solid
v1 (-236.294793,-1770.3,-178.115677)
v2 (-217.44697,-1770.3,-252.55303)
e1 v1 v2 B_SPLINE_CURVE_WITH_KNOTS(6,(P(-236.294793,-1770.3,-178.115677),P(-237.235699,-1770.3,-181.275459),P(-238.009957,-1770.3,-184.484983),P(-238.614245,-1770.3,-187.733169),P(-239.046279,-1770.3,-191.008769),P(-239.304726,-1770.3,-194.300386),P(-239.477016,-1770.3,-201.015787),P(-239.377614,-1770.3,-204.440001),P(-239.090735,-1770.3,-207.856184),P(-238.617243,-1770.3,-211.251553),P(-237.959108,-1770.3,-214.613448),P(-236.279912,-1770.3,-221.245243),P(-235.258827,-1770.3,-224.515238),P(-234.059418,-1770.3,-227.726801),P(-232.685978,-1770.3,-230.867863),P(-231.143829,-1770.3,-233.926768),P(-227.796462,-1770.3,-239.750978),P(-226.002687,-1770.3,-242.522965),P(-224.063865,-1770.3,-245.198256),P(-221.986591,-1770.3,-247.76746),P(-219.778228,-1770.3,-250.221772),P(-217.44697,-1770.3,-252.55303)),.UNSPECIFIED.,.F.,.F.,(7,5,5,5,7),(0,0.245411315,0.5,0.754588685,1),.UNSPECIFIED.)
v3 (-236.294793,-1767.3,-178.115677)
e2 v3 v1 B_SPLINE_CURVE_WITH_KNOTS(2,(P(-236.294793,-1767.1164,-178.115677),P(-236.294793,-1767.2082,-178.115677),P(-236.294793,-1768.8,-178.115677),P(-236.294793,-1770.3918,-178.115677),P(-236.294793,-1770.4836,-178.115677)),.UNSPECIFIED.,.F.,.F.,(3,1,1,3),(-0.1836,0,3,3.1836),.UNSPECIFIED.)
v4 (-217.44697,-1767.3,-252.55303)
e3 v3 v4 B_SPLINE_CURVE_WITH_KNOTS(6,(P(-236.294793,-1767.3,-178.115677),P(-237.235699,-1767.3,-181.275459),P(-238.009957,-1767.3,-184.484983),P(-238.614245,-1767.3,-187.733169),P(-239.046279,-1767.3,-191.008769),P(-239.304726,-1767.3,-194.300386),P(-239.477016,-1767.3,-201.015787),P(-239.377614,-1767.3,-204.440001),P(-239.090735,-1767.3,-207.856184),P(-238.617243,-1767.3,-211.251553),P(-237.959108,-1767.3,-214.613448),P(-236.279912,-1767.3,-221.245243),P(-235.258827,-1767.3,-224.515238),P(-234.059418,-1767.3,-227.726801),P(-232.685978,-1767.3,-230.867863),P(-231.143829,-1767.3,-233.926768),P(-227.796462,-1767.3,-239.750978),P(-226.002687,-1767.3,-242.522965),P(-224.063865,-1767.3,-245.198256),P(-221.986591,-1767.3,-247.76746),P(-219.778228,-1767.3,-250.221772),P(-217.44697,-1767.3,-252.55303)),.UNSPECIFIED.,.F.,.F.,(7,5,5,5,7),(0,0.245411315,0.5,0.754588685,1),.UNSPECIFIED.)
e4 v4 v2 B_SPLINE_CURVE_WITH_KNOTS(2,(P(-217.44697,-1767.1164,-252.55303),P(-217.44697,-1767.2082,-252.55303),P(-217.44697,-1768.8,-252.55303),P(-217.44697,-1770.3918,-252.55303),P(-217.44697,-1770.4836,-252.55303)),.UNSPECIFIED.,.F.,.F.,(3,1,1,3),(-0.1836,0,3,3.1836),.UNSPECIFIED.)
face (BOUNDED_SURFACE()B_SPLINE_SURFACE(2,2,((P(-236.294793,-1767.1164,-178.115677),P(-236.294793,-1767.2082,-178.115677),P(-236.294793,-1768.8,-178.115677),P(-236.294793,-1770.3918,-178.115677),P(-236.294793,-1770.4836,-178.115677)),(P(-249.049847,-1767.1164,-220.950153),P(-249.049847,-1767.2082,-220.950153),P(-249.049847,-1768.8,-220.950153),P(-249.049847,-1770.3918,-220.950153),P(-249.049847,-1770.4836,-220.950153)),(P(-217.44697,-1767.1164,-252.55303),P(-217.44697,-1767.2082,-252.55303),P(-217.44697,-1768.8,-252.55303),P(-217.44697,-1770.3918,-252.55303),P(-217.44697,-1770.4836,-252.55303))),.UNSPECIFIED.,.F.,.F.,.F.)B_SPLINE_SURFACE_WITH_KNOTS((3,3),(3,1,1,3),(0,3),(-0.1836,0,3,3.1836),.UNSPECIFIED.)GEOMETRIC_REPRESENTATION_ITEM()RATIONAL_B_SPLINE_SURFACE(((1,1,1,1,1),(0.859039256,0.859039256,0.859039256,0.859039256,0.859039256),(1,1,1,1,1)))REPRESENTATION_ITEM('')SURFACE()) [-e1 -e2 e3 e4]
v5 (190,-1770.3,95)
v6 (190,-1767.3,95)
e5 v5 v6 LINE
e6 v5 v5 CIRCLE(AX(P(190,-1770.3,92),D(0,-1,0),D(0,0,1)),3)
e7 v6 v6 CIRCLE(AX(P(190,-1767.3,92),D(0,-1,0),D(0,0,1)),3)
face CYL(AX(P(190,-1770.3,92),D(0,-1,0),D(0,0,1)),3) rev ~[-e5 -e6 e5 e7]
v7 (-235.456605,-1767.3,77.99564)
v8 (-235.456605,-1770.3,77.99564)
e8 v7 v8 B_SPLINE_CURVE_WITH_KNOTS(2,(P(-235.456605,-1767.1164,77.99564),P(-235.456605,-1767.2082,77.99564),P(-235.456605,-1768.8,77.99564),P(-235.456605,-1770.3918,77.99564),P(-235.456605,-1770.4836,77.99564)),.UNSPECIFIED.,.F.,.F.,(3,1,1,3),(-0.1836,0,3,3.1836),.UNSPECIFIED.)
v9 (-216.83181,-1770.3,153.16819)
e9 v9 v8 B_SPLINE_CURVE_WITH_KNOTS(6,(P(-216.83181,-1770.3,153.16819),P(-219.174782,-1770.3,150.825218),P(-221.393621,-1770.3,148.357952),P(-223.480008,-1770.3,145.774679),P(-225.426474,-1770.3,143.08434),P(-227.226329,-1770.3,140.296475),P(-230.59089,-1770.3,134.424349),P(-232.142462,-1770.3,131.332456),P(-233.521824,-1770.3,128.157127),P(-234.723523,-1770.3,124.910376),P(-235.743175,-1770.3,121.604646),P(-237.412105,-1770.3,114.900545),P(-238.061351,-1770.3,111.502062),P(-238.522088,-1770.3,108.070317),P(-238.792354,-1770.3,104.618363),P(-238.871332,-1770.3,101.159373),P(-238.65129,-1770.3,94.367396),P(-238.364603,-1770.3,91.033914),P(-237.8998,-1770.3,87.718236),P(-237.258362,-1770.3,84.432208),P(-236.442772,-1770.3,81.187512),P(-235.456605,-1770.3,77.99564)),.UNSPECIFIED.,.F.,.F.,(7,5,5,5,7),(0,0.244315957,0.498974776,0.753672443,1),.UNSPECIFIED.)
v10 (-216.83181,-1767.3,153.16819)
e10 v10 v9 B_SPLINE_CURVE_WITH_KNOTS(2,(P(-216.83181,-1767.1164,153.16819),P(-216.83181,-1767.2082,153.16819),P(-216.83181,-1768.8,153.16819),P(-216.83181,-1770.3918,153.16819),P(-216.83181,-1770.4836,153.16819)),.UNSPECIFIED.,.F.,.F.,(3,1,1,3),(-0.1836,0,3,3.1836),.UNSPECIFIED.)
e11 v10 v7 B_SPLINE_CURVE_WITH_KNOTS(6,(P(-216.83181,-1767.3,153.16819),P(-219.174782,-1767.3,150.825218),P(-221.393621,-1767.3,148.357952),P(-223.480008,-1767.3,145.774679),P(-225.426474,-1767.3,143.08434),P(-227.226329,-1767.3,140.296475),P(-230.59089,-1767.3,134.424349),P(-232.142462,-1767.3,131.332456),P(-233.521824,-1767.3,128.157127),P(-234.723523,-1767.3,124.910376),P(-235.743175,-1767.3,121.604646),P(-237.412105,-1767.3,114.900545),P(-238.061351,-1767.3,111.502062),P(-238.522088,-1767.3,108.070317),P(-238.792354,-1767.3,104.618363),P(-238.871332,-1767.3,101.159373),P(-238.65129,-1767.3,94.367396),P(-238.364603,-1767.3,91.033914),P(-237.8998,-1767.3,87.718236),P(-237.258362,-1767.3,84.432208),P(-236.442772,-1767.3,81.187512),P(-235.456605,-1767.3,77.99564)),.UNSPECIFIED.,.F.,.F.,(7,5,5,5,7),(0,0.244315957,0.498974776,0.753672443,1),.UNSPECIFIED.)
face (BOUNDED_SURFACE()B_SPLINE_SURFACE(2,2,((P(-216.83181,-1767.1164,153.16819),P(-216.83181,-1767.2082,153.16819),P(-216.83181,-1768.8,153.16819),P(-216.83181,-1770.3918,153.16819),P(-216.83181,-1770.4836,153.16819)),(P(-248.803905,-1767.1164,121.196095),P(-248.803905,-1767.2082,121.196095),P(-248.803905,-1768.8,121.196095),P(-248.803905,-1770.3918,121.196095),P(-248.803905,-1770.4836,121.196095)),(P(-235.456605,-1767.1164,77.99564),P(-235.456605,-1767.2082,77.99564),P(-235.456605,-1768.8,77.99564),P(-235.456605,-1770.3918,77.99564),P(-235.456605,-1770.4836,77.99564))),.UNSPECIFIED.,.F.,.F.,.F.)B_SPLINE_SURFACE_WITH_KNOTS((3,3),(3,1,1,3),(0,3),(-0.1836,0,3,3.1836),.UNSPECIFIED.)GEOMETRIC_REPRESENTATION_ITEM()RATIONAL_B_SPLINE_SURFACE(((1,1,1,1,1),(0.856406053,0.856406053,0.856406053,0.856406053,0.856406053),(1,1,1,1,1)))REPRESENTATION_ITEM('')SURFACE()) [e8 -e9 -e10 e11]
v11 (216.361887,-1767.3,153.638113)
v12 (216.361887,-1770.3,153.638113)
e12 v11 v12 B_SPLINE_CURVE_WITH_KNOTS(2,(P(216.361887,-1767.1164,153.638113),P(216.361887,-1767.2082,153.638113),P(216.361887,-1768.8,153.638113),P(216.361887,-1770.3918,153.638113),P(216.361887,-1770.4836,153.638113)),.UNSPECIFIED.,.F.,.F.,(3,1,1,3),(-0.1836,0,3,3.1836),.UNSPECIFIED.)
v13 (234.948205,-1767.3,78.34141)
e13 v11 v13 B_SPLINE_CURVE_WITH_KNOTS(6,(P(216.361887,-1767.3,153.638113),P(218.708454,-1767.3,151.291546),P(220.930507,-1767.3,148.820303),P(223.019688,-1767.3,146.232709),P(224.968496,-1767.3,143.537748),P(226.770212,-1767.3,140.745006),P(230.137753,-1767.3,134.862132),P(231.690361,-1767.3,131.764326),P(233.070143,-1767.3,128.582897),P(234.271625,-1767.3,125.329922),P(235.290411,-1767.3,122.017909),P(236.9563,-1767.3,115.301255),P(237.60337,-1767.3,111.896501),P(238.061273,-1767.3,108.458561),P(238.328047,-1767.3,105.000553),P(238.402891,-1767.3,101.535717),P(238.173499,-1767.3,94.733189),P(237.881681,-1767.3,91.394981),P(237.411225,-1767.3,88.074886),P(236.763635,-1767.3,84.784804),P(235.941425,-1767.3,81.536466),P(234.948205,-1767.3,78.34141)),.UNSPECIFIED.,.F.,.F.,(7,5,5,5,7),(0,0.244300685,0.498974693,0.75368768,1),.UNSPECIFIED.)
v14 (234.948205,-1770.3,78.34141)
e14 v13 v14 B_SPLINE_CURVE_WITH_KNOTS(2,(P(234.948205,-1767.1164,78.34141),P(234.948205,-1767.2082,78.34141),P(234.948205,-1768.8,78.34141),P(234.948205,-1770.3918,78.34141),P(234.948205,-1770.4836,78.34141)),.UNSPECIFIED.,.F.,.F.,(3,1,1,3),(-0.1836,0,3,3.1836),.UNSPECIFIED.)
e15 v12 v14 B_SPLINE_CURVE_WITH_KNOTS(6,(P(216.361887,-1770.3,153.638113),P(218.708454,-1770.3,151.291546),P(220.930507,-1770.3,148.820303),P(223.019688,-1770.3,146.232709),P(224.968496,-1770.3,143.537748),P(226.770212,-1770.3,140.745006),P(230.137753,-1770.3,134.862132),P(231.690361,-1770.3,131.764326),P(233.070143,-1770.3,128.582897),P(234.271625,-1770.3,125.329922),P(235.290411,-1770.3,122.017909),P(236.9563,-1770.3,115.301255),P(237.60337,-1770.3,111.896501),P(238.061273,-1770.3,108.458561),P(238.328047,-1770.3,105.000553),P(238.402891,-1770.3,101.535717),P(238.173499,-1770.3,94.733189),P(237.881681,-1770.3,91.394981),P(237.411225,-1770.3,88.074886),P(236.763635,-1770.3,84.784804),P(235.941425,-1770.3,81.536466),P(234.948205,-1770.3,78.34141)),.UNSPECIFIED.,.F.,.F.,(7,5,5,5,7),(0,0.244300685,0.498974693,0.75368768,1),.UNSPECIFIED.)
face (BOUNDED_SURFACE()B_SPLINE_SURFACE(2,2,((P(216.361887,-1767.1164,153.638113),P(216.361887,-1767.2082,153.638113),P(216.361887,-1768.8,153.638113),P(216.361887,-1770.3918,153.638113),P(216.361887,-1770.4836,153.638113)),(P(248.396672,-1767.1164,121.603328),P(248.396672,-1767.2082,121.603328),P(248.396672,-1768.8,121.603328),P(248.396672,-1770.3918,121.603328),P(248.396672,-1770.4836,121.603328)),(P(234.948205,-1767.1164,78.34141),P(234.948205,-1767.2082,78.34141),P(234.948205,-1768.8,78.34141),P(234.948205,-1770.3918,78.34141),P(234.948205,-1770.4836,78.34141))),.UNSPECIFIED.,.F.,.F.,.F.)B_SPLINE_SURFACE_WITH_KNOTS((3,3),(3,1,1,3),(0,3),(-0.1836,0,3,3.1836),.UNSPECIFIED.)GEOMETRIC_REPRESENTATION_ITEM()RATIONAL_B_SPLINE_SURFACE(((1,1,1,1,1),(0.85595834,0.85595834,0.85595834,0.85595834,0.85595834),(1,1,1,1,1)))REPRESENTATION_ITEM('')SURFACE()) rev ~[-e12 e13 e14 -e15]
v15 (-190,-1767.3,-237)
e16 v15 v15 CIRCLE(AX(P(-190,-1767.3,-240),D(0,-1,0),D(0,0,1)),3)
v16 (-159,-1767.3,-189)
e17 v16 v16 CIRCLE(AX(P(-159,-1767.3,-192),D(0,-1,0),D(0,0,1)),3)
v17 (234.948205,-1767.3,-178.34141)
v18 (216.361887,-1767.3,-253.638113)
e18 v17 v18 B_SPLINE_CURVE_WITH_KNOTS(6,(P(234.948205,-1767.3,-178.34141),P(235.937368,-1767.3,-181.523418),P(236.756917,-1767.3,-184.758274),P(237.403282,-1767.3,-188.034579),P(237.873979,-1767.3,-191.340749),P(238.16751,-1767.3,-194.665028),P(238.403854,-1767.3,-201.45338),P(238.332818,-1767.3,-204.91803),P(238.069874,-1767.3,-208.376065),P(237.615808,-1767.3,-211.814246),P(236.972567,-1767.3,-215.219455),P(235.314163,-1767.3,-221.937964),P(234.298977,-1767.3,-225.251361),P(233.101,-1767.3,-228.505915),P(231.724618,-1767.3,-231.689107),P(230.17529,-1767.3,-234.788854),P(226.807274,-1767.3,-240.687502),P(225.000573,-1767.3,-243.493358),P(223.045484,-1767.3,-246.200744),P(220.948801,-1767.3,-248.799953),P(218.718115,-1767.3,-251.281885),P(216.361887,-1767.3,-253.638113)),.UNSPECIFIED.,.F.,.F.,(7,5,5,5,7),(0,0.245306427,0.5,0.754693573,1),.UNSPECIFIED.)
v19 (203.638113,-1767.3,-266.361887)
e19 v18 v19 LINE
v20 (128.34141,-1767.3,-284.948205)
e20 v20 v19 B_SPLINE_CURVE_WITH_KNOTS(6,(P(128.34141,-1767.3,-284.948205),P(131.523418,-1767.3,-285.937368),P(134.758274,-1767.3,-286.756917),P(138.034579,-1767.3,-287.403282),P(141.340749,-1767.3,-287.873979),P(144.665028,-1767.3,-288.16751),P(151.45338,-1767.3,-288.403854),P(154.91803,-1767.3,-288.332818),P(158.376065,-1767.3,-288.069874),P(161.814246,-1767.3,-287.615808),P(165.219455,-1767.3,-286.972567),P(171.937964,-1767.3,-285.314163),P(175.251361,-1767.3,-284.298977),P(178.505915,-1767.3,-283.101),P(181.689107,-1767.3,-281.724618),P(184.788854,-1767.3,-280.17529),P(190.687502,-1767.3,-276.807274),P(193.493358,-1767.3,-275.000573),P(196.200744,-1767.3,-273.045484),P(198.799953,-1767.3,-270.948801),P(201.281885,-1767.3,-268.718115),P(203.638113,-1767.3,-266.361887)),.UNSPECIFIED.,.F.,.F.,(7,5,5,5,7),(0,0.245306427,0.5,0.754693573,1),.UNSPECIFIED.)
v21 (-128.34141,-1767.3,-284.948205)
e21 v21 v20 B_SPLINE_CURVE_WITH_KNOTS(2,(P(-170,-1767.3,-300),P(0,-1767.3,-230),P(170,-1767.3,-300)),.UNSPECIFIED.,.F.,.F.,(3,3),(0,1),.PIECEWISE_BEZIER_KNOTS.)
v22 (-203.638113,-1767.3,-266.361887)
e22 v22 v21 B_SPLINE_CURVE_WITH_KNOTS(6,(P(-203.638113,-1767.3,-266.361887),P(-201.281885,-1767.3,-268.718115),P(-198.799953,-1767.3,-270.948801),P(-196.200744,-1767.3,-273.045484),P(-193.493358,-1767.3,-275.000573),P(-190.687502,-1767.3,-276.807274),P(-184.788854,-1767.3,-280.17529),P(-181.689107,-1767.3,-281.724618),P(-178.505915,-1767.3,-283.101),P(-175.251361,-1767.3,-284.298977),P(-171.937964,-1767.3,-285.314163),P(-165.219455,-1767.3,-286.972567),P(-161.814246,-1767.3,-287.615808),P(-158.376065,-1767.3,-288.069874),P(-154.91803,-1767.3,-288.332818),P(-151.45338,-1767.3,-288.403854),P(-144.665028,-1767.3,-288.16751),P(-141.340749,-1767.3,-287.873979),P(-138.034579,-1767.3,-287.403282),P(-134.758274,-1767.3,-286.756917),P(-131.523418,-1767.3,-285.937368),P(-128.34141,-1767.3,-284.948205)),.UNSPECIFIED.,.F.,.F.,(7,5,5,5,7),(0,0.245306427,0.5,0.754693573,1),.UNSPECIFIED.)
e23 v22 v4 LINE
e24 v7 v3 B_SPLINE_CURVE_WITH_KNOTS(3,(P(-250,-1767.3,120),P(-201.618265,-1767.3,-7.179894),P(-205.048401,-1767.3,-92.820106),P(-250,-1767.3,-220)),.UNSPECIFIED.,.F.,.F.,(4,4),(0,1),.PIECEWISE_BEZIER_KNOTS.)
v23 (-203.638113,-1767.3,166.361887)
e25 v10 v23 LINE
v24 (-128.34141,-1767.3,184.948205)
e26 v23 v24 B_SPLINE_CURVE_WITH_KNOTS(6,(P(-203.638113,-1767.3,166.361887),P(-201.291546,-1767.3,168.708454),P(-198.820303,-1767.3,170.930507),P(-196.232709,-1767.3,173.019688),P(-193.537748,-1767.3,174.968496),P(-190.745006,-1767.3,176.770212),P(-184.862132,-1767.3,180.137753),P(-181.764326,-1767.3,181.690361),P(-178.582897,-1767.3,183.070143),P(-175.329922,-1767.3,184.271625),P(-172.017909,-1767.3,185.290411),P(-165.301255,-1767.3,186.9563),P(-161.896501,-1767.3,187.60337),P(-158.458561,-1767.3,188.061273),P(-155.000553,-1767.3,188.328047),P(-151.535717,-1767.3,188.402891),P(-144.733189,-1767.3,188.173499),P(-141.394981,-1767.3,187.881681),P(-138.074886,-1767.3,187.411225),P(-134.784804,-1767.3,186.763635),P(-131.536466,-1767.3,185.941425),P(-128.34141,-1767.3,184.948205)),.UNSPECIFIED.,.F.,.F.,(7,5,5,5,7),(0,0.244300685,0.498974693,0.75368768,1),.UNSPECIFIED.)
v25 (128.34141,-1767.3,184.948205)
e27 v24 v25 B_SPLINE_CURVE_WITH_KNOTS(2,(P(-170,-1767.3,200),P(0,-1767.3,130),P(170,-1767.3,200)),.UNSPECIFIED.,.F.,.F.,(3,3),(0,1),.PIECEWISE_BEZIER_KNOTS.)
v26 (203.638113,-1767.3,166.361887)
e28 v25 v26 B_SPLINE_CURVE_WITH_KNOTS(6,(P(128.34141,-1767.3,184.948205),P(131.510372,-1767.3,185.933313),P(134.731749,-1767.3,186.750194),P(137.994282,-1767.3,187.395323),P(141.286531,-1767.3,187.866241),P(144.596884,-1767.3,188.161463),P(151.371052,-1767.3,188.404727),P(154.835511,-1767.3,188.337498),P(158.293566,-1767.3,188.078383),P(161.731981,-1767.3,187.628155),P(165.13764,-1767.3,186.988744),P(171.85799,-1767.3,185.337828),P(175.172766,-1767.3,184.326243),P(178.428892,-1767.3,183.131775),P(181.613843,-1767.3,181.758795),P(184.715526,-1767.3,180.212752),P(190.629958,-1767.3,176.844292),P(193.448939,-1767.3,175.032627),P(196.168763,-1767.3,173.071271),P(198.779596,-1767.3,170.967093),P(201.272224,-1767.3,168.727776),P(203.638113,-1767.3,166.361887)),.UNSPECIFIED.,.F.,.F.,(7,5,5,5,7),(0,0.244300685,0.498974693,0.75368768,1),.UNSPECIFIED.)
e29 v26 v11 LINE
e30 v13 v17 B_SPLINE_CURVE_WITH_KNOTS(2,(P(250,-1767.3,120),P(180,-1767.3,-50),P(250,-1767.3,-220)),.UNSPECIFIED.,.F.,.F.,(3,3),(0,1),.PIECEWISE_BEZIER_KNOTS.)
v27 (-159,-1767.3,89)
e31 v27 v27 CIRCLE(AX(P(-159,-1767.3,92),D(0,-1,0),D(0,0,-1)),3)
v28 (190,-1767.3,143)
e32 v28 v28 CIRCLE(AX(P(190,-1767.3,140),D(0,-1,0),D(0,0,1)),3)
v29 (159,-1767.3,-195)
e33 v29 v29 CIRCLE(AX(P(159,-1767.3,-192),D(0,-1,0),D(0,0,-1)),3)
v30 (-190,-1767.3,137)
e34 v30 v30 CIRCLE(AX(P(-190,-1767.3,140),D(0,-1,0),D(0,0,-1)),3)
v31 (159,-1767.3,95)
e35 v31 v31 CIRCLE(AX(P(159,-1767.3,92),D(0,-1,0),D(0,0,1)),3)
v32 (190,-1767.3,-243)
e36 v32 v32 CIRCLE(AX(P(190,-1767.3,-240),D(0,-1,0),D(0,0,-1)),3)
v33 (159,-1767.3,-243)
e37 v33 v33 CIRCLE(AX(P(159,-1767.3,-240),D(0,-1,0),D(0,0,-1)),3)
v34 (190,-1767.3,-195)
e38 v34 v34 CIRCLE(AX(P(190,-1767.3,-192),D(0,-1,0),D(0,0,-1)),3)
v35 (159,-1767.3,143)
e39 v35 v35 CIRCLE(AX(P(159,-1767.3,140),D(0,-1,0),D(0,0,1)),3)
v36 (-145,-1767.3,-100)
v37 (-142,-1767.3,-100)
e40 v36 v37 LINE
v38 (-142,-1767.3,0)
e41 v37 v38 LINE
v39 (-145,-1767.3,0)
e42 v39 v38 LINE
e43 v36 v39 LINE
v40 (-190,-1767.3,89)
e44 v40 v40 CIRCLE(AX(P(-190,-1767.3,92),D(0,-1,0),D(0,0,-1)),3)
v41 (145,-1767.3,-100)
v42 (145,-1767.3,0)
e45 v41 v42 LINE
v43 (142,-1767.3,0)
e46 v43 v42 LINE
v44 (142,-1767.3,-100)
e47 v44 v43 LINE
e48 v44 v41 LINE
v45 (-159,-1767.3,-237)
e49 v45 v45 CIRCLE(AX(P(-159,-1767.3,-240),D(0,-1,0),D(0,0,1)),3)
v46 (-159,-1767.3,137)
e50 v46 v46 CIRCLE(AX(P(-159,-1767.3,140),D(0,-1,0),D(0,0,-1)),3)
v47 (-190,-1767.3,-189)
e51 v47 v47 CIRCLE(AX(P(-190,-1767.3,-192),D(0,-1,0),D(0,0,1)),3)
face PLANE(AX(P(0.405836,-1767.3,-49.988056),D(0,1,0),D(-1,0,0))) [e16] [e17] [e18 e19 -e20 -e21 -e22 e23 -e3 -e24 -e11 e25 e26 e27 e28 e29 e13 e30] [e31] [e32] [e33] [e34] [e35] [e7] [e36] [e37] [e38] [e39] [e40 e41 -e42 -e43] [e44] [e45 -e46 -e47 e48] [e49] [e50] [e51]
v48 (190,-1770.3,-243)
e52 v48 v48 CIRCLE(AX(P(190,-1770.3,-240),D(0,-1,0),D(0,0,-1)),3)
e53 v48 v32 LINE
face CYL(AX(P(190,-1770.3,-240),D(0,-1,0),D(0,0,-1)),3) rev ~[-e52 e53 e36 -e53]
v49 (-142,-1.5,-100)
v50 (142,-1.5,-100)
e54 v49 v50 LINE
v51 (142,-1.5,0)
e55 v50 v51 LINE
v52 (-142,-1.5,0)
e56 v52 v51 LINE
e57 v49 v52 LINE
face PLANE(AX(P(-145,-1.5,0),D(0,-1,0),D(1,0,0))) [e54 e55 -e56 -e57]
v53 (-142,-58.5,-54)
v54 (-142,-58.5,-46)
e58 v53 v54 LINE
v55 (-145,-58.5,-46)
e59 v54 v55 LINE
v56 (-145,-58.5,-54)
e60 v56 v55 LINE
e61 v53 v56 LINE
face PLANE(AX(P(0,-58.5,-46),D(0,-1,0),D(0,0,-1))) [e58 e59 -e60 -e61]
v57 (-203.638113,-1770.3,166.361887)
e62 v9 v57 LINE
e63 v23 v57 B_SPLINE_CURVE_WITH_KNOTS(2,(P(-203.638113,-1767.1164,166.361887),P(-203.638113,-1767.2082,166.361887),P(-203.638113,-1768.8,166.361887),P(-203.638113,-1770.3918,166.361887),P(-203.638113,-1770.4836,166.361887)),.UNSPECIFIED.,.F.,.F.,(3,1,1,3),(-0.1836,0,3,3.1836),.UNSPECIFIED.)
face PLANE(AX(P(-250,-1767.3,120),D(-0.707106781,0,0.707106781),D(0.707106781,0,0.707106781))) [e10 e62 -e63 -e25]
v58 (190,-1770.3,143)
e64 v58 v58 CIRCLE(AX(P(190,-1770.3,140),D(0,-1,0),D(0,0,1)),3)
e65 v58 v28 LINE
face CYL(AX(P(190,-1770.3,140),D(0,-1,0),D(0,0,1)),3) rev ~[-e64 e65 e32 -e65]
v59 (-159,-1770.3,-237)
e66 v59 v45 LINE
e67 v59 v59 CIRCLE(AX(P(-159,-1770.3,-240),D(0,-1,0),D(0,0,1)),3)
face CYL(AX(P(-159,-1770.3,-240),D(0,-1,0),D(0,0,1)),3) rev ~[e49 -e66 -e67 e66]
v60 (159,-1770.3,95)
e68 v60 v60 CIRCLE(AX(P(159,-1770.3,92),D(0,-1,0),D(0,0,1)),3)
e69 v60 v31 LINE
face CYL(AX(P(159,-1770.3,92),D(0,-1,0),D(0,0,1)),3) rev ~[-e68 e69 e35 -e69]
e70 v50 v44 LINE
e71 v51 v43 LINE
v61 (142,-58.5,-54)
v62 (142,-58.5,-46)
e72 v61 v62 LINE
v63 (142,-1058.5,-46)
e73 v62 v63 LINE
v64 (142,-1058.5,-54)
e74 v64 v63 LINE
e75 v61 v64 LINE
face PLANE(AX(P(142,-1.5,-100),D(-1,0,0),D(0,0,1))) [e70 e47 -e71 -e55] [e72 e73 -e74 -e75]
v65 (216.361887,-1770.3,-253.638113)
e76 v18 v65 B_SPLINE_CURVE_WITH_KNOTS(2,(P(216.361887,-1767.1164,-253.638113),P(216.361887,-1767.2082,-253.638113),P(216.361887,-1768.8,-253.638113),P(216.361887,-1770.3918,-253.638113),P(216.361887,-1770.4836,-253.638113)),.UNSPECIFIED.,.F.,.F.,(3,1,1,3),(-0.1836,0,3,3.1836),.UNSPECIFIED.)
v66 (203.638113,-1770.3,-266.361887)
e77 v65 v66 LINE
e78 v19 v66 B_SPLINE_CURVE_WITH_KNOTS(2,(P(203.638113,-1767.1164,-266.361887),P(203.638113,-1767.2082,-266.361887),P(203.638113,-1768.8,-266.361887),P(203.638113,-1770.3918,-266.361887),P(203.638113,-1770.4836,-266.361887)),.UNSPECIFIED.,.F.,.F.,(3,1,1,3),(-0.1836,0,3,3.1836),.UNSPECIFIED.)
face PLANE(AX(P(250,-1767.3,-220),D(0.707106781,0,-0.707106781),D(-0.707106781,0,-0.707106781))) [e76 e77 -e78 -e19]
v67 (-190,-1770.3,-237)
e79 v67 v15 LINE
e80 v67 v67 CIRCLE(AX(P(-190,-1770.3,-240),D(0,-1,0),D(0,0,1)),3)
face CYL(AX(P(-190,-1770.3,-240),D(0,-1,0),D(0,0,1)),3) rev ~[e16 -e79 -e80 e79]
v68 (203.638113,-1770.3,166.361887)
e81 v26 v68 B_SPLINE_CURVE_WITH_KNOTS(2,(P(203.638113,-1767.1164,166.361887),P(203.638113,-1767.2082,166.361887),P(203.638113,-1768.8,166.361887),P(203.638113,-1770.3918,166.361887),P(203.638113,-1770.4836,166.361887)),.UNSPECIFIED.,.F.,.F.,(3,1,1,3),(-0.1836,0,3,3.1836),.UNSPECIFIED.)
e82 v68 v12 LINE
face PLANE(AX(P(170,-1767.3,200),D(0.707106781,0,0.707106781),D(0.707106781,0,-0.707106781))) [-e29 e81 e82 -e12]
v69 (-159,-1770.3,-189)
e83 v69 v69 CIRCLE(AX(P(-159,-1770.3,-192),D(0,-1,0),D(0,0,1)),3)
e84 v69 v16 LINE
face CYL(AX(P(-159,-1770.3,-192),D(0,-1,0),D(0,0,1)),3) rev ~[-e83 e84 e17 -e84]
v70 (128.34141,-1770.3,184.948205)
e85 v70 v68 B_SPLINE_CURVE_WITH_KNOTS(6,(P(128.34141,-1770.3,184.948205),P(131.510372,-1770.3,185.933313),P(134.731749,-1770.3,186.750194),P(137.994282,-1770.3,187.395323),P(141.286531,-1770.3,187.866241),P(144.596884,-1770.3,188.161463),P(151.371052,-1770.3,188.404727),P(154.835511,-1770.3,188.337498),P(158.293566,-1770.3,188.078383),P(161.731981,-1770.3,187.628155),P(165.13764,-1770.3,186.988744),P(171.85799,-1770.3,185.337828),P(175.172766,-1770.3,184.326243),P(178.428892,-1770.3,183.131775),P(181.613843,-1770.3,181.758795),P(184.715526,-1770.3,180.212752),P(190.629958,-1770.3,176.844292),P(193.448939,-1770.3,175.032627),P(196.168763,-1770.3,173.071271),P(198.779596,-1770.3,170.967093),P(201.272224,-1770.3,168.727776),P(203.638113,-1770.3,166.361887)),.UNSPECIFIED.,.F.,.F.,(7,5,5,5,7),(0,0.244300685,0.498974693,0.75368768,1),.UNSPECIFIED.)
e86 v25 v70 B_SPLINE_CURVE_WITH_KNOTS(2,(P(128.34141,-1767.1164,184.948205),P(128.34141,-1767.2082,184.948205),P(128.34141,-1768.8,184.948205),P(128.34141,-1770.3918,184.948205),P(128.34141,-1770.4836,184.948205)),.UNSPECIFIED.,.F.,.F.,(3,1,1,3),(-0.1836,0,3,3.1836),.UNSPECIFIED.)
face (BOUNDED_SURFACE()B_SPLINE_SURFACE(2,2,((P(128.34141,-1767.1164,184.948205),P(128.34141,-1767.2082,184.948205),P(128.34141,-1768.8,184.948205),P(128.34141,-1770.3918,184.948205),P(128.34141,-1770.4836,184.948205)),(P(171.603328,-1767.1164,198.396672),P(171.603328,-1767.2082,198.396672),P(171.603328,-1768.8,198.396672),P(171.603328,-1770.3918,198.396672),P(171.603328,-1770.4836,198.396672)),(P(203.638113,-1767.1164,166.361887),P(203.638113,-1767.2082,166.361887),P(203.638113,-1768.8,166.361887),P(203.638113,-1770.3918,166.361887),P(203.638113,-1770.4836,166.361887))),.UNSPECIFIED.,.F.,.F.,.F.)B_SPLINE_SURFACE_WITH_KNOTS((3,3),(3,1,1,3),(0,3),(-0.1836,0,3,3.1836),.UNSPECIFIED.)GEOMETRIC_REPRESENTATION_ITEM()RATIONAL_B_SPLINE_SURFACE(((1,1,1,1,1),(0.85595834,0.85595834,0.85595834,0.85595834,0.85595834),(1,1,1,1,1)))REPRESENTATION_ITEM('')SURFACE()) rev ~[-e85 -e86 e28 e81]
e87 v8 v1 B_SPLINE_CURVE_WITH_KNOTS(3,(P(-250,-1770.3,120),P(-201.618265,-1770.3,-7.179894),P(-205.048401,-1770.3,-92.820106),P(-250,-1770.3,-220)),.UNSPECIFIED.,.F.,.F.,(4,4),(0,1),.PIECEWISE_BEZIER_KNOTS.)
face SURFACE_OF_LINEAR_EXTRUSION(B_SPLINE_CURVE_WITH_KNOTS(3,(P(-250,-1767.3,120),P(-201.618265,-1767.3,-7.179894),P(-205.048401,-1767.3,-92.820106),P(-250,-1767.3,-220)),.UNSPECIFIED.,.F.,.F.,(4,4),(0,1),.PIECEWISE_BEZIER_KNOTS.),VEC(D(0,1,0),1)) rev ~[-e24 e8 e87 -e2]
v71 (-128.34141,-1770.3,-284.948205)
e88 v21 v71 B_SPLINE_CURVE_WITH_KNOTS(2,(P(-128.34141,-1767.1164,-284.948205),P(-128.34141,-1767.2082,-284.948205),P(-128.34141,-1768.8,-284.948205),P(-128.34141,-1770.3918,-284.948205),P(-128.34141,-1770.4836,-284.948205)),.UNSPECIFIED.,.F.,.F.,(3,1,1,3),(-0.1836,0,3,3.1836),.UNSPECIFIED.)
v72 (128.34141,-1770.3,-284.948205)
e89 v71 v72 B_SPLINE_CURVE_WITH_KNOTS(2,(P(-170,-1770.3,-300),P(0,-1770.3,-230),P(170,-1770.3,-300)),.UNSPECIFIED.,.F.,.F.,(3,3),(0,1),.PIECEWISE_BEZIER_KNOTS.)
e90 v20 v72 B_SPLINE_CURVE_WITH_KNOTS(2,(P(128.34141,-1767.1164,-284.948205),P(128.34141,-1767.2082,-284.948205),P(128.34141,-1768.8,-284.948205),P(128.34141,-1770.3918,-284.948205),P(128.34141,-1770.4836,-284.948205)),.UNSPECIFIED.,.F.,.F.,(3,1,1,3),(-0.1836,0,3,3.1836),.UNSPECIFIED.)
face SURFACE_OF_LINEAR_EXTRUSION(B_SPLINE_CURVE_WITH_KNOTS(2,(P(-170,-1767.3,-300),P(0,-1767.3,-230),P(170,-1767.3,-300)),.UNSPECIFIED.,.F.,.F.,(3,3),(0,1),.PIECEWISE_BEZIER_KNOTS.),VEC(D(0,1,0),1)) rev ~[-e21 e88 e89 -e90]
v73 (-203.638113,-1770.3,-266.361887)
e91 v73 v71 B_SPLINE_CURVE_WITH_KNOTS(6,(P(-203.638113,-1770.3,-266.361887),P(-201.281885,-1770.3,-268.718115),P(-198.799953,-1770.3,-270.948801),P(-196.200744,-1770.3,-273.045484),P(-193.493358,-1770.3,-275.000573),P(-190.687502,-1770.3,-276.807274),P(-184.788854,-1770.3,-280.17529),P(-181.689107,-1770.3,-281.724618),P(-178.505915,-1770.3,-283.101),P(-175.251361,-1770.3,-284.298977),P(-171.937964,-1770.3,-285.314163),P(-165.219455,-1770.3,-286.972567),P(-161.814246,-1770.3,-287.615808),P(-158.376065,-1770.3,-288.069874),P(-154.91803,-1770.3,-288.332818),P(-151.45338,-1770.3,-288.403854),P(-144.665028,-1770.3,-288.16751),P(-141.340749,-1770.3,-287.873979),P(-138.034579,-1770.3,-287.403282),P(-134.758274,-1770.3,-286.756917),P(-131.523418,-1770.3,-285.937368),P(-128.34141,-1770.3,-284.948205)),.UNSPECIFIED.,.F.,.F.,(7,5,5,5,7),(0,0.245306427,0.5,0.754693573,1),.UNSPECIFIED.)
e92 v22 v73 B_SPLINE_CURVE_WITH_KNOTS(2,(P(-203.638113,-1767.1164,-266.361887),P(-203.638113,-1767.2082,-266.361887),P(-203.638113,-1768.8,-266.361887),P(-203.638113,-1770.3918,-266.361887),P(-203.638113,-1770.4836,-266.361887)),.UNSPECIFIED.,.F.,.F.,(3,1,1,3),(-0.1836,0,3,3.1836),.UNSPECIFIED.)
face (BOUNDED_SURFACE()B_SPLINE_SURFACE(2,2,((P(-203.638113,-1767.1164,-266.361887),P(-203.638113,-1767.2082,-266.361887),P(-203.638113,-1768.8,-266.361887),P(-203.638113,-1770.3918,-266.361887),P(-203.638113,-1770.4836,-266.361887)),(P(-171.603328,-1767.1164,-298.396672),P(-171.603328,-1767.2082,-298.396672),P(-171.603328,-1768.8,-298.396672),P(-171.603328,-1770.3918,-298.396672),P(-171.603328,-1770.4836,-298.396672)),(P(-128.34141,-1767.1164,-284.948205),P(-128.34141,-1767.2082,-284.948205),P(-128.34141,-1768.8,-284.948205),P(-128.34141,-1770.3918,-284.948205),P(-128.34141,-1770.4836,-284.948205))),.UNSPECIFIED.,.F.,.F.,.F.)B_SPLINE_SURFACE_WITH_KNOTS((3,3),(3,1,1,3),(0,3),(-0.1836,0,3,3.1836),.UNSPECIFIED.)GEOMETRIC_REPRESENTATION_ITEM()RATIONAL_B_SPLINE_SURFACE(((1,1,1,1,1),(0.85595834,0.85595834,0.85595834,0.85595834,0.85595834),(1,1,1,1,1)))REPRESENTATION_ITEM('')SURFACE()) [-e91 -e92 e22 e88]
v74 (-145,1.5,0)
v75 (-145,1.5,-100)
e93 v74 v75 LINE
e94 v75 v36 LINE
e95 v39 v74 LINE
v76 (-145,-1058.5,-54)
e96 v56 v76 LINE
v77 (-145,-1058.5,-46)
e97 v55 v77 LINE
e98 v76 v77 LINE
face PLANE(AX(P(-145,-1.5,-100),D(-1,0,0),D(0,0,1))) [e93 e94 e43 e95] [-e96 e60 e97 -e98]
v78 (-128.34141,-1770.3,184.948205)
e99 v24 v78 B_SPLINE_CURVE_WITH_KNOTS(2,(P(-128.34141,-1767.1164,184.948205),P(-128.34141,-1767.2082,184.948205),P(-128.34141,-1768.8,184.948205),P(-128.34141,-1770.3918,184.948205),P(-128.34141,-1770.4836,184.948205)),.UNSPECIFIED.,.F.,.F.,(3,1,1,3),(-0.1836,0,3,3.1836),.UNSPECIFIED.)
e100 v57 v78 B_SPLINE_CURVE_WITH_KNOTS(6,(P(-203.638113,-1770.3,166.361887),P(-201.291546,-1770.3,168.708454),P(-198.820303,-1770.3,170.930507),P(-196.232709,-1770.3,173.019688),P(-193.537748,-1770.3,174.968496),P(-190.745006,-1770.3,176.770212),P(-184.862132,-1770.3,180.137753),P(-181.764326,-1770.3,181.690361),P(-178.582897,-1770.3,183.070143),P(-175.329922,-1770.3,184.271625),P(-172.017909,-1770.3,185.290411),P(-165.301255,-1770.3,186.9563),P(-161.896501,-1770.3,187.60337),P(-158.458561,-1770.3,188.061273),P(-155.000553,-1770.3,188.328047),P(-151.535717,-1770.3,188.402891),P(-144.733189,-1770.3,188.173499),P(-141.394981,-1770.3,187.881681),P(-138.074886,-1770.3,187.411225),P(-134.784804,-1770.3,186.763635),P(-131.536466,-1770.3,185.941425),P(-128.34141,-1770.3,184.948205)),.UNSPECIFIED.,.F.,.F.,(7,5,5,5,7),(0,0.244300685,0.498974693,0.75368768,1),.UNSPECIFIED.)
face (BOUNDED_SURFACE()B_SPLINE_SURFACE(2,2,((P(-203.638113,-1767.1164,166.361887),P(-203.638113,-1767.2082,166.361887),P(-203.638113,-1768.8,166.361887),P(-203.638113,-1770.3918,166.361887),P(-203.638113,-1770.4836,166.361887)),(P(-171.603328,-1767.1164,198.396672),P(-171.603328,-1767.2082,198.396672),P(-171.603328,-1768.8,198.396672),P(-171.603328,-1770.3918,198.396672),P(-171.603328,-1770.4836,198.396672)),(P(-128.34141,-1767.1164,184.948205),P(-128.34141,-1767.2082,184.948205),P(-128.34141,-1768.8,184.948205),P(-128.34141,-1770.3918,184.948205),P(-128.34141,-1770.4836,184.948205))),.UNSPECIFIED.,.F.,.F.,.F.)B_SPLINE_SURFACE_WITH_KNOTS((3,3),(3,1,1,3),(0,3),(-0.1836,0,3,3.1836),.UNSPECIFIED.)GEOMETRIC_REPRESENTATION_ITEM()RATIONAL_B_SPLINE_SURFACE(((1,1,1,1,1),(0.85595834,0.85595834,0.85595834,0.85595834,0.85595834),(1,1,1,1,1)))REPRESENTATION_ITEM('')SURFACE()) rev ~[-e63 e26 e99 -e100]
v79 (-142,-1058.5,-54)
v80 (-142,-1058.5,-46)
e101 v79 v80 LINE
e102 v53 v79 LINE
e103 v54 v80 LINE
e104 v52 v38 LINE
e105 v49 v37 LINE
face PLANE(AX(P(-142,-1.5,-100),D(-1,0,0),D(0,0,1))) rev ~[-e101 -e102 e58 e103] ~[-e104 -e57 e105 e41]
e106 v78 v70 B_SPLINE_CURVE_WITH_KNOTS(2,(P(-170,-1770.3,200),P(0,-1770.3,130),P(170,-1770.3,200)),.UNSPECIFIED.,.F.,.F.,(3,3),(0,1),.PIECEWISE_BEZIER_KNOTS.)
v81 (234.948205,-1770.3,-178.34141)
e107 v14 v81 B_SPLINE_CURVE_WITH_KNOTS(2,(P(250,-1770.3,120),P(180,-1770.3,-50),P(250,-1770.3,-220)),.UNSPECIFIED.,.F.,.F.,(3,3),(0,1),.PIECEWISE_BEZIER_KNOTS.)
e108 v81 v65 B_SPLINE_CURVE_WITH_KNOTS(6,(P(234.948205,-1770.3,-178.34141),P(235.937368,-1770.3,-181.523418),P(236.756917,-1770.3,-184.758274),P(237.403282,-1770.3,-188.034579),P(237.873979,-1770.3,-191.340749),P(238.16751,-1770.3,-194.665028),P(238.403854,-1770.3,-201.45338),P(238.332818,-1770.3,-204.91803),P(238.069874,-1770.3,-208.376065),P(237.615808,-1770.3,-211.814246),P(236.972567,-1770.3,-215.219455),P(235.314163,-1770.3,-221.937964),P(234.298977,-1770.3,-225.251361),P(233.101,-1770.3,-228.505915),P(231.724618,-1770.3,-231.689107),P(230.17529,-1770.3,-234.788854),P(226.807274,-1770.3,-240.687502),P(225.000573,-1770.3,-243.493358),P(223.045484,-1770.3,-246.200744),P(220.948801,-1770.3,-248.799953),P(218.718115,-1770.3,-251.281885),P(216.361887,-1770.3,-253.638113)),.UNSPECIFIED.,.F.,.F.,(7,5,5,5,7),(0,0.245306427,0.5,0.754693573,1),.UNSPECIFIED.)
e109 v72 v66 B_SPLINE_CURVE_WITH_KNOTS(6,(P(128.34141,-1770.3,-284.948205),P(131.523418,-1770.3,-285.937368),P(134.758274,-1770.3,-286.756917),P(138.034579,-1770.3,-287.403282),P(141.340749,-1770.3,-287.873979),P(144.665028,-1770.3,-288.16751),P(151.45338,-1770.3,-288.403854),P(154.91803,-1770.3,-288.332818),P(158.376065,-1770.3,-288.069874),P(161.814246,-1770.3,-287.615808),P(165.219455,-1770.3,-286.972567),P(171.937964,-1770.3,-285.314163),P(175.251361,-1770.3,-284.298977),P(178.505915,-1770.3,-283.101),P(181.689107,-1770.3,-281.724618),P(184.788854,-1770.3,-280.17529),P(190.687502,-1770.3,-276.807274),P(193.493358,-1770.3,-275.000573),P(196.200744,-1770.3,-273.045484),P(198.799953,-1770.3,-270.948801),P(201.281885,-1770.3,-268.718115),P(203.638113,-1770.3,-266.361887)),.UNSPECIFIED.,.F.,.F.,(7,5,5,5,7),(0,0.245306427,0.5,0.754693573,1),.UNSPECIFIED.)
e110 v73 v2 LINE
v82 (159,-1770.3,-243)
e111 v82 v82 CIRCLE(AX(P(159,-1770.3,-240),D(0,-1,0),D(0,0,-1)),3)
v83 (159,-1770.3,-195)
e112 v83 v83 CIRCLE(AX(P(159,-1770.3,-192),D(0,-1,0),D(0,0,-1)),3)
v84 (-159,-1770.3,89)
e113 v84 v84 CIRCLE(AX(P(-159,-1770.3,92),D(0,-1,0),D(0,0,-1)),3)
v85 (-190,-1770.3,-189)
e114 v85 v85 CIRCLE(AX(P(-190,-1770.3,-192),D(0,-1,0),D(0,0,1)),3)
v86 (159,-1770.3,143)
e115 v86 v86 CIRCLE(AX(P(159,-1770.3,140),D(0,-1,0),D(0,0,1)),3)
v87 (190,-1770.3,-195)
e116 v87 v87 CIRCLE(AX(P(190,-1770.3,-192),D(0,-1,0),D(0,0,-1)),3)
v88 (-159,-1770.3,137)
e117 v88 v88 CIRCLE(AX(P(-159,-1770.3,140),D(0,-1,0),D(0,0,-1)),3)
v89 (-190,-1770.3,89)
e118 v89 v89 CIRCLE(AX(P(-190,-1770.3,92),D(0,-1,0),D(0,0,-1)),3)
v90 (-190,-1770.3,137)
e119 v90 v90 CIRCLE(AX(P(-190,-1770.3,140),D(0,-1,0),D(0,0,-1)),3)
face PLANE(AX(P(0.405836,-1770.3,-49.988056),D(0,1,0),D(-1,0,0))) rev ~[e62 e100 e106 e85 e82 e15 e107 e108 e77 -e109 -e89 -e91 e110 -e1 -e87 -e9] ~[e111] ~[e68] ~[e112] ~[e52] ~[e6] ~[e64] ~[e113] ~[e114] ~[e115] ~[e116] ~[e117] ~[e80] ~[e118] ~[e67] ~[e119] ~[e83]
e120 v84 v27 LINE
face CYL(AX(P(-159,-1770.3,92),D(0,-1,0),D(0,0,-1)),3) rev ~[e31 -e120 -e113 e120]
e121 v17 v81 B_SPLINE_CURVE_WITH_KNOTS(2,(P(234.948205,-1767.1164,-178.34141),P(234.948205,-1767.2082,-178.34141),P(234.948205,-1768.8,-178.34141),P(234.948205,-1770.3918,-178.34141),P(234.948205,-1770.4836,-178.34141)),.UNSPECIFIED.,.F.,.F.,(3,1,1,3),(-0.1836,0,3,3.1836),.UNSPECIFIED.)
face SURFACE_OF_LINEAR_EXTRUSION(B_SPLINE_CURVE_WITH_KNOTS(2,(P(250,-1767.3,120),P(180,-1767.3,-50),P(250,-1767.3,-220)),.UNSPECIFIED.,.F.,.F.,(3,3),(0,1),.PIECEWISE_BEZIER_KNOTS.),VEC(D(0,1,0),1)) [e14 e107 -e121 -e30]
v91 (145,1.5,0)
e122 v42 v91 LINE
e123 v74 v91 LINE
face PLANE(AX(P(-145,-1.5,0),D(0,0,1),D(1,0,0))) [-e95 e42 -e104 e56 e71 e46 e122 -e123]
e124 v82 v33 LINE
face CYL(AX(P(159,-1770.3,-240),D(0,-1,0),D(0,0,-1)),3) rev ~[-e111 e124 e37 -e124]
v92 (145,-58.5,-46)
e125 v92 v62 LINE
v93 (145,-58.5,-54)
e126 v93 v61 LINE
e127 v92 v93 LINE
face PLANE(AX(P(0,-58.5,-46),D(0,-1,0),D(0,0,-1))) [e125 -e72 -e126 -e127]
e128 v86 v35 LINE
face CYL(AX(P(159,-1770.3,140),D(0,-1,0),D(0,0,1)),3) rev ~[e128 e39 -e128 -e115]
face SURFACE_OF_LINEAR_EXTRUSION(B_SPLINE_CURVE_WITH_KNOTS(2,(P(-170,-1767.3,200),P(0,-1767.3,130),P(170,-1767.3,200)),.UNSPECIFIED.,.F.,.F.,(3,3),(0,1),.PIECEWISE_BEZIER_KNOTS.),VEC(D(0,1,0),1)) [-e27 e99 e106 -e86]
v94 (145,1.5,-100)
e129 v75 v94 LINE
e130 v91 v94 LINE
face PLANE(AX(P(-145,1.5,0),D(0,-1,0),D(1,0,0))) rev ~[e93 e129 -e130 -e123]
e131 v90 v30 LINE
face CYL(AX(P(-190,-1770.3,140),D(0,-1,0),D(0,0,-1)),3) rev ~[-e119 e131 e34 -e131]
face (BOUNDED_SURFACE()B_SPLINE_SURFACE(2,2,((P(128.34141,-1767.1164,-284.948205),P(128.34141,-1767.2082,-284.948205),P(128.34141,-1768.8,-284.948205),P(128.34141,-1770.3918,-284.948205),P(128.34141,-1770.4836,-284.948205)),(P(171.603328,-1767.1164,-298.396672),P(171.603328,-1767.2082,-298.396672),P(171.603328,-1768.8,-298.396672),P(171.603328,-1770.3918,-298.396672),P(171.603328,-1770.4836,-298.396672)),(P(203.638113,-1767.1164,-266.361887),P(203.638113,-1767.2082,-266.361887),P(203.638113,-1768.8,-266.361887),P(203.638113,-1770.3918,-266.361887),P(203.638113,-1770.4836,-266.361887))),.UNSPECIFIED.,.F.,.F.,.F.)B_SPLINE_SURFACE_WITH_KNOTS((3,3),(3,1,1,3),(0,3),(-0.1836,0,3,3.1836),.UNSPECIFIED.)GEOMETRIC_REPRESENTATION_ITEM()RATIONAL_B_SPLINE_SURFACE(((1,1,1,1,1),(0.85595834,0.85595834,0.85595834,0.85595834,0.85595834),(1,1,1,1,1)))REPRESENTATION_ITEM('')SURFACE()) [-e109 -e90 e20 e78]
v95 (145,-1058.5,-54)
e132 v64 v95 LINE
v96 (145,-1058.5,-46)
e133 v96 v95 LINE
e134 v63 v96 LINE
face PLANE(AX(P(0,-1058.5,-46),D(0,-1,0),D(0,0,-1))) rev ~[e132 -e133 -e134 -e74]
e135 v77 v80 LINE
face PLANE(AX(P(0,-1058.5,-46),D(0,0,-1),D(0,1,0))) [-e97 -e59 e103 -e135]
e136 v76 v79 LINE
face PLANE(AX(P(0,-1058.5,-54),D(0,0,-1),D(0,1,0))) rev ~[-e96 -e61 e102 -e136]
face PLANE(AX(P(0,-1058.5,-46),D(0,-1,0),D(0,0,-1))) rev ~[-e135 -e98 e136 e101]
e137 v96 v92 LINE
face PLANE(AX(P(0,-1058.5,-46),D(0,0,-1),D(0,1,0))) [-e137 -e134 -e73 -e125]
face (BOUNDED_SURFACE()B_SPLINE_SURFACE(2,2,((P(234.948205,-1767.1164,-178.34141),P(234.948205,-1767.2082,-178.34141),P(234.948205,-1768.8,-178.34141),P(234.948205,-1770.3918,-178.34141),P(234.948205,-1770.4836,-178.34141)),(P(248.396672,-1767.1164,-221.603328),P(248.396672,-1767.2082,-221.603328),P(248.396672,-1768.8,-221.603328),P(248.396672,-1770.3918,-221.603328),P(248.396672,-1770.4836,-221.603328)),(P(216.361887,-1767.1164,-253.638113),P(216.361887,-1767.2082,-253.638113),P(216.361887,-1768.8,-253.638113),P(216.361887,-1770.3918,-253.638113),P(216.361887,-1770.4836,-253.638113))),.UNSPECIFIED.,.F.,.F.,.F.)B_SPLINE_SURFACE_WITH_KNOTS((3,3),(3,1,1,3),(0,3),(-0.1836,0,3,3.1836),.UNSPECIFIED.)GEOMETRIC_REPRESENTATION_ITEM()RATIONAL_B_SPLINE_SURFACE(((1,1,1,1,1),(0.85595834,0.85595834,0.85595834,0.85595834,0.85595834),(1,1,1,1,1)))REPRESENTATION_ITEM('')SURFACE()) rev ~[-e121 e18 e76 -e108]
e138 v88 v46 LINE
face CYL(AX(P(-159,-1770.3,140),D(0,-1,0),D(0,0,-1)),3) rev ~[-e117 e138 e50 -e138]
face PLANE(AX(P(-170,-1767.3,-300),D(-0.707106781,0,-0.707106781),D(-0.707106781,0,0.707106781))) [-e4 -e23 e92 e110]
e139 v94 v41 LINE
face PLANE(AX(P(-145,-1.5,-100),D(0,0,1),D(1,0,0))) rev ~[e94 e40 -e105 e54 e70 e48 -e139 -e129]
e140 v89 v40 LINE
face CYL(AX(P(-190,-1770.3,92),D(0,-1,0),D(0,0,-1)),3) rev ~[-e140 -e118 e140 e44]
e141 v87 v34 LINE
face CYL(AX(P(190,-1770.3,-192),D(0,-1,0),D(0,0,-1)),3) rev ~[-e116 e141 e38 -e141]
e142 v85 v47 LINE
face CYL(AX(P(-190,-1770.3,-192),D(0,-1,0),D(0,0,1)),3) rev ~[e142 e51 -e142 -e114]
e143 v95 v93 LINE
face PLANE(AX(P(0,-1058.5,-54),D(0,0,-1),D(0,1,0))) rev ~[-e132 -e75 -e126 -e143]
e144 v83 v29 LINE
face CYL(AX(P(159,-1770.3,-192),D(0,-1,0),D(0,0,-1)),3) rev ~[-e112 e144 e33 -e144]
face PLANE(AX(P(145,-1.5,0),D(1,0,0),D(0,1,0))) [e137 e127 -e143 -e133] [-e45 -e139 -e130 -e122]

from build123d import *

# Parameters (mm, degrees)
SKETCH1_W           = 290
SKETCH1_H           = 3
BOSS_EXTRUDE1_DEPTH = 100
SKETCH2_W           = 3
SKETCH2_H           = 100
BOSS_EXTRUDE2_DEPTH = 1765.8
SKETCH5_W           = 8
SKETCH5_H           = 1000
CUT_EXTRUDE1_DEPTH  = 150
BOSS_EXTRUDE3_DEPTH = 3
FILLET1_R           = 75
SKETCH7_R           = 3
CUT_EXTRUDE2_DEPTH  = 10


with BuildPart() as part:
    # Sketch1 → Boss-Extrude1 (new body)
    with BuildSketch(Plane.XY):
        Rectangle(SKETCH1_W, SKETCH1_H)
    extrude(amount=-BOSS_EXTRUDE1_DEPTH)

    # Sketch2 → Boss-Extrude2 (add)
    with BuildSketch(Plane.XZ.offset(1.5)):
        with Locations((-143.5, -50)):
            Rectangle(SKETCH2_W, SKETCH2_H)
        with Locations((143.5, -50)):
            Rectangle(SKETCH2_W, SKETCH2_H)
    extrude(amount=BOSS_EXTRUDE2_DEPTH)

    # Sketch5 → Cut-Extrude1 (cut, symmetric)
    with BuildSketch(Plane(origin=(0, 0, 0), x_dir=(0, 0, -1), z_dir=(1, 0, 0))):
        with Locations((50, -558.5)):
            Rectangle(SKETCH5_W, SKETCH5_H)
    extrude(amount=CUT_EXTRUDE1_DEPTH, both=True, mode=Mode.SUBTRACT)

    # Sketch6 → Boss-Extrude3 (add)
    with BuildSketch(Plane.XZ.offset(1767.3)):
        with BuildLine():
            Line((-250, 120), (-170, 200))
            add(Edge.make_bspline(
                [(-170, 200), (0, 130), (170, 200)],
                knots=[0, 0, 0, 1, 1, 1], degree=2))
            Line((170, 200), (250, 120))
            add(Edge.make_bspline(
                [(250, 120), (180, -50), (250, -220)],
                knots=[0, 0, 0, 1, 1, 1], degree=2))
            Line((250, -220), (170, -300))
            add(Edge.make_bspline(
                [(-170, -300), (0, -230), (170, -300)],
                knots=[0, 0, 0, 1, 1, 1], degree=2))
            Line((-170, -300), (-250, -220))
            add(Edge.make_bspline(
                [(-250, 120), (-201.61826543, -7.179894106), (-205.048401237, -92.820105894), (-250, -220)],
                knots=[0, 0, 0, 0, 1, 1, 1, 1], degree=3))
        make_face()
    extrude(amount=BOSS_EXTRUDE3_DEPTH)

    # Fillet1
    fillet1_edges = [part.edges().sort_by_distance(p)[0] for p in [
        (250, -1768.8, 120),
        (-170, -1768.8, 200),
        (-250, -1768.8, 120),
        (-250, -1768.8, -220),
        (-170, -1768.8, -300),
        (170, -1768.8, -300),
        (250, -1768.8, -220),
        (170, -1768.8, 200),
    ]]
    fillet(fillet1_edges, radius=FILLET1_R)

    # Sketch7 → Cut-Extrude2 (cut)
    with BuildSketch(Plane.XZ.offset(1770.3)):
        with Locations(Location((-190, 140, 0), (0, 0, 270))):
            Circle(SKETCH7_R)
        with Locations(Location((-159, 140, 0), (0, 0, 270))):
            Circle(SKETCH7_R)
        with Locations(Location((-190, 92, 0), (0, 0, 270))):
            Circle(SKETCH7_R)
        with Locations(Location((-159, 92, 0), (0, 0, 270))):
            Circle(SKETCH7_R)
        with Locations(Location((190, 92, 0), (0, 0, 90))):
            Circle(SKETCH7_R)
        with Locations(Location((159, 92, 0), (0, 0, 90))):
            Circle(SKETCH7_R)
        with Locations(Location((159, 140, 0), (0, 0, 90))):
            Circle(SKETCH7_R)
        with Locations(Location((190, 140, 0), (0, 0, 90))):
            Circle(SKETCH7_R)
        with Locations(Location((159, -192, 0), (0, 0, 270))):
            Circle(SKETCH7_R)
        with Locations(Location((190, -192, 0), (0, 0, 270))):
            Circle(SKETCH7_R)
        with Locations(Location((190, -240, 0), (0, 0, 270))):
            Circle(SKETCH7_R)
        with Locations(Location((159, -240, 0), (0, 0, 270))):
            Circle(SKETCH7_R)
        with Locations(Location((-190, -192, 0), (0, 0, 90))):
            Circle(SKETCH7_R)
        with Locations(Location((-159, -192, 0), (0, 0, 90))):
            Circle(SKETCH7_R)
        with Locations(Location((-159, -240, 0), (0, 0, 90))):
            Circle(SKETCH7_R)
        with Locations(Location((-190, -240, 0), (0, 0, 90))):
            Circle(SKETCH7_R)
    extrude(amount=-CUT_EXTRUDE2_DEPTH, mode=Mode.SUBTRACT)


solid = part.part
